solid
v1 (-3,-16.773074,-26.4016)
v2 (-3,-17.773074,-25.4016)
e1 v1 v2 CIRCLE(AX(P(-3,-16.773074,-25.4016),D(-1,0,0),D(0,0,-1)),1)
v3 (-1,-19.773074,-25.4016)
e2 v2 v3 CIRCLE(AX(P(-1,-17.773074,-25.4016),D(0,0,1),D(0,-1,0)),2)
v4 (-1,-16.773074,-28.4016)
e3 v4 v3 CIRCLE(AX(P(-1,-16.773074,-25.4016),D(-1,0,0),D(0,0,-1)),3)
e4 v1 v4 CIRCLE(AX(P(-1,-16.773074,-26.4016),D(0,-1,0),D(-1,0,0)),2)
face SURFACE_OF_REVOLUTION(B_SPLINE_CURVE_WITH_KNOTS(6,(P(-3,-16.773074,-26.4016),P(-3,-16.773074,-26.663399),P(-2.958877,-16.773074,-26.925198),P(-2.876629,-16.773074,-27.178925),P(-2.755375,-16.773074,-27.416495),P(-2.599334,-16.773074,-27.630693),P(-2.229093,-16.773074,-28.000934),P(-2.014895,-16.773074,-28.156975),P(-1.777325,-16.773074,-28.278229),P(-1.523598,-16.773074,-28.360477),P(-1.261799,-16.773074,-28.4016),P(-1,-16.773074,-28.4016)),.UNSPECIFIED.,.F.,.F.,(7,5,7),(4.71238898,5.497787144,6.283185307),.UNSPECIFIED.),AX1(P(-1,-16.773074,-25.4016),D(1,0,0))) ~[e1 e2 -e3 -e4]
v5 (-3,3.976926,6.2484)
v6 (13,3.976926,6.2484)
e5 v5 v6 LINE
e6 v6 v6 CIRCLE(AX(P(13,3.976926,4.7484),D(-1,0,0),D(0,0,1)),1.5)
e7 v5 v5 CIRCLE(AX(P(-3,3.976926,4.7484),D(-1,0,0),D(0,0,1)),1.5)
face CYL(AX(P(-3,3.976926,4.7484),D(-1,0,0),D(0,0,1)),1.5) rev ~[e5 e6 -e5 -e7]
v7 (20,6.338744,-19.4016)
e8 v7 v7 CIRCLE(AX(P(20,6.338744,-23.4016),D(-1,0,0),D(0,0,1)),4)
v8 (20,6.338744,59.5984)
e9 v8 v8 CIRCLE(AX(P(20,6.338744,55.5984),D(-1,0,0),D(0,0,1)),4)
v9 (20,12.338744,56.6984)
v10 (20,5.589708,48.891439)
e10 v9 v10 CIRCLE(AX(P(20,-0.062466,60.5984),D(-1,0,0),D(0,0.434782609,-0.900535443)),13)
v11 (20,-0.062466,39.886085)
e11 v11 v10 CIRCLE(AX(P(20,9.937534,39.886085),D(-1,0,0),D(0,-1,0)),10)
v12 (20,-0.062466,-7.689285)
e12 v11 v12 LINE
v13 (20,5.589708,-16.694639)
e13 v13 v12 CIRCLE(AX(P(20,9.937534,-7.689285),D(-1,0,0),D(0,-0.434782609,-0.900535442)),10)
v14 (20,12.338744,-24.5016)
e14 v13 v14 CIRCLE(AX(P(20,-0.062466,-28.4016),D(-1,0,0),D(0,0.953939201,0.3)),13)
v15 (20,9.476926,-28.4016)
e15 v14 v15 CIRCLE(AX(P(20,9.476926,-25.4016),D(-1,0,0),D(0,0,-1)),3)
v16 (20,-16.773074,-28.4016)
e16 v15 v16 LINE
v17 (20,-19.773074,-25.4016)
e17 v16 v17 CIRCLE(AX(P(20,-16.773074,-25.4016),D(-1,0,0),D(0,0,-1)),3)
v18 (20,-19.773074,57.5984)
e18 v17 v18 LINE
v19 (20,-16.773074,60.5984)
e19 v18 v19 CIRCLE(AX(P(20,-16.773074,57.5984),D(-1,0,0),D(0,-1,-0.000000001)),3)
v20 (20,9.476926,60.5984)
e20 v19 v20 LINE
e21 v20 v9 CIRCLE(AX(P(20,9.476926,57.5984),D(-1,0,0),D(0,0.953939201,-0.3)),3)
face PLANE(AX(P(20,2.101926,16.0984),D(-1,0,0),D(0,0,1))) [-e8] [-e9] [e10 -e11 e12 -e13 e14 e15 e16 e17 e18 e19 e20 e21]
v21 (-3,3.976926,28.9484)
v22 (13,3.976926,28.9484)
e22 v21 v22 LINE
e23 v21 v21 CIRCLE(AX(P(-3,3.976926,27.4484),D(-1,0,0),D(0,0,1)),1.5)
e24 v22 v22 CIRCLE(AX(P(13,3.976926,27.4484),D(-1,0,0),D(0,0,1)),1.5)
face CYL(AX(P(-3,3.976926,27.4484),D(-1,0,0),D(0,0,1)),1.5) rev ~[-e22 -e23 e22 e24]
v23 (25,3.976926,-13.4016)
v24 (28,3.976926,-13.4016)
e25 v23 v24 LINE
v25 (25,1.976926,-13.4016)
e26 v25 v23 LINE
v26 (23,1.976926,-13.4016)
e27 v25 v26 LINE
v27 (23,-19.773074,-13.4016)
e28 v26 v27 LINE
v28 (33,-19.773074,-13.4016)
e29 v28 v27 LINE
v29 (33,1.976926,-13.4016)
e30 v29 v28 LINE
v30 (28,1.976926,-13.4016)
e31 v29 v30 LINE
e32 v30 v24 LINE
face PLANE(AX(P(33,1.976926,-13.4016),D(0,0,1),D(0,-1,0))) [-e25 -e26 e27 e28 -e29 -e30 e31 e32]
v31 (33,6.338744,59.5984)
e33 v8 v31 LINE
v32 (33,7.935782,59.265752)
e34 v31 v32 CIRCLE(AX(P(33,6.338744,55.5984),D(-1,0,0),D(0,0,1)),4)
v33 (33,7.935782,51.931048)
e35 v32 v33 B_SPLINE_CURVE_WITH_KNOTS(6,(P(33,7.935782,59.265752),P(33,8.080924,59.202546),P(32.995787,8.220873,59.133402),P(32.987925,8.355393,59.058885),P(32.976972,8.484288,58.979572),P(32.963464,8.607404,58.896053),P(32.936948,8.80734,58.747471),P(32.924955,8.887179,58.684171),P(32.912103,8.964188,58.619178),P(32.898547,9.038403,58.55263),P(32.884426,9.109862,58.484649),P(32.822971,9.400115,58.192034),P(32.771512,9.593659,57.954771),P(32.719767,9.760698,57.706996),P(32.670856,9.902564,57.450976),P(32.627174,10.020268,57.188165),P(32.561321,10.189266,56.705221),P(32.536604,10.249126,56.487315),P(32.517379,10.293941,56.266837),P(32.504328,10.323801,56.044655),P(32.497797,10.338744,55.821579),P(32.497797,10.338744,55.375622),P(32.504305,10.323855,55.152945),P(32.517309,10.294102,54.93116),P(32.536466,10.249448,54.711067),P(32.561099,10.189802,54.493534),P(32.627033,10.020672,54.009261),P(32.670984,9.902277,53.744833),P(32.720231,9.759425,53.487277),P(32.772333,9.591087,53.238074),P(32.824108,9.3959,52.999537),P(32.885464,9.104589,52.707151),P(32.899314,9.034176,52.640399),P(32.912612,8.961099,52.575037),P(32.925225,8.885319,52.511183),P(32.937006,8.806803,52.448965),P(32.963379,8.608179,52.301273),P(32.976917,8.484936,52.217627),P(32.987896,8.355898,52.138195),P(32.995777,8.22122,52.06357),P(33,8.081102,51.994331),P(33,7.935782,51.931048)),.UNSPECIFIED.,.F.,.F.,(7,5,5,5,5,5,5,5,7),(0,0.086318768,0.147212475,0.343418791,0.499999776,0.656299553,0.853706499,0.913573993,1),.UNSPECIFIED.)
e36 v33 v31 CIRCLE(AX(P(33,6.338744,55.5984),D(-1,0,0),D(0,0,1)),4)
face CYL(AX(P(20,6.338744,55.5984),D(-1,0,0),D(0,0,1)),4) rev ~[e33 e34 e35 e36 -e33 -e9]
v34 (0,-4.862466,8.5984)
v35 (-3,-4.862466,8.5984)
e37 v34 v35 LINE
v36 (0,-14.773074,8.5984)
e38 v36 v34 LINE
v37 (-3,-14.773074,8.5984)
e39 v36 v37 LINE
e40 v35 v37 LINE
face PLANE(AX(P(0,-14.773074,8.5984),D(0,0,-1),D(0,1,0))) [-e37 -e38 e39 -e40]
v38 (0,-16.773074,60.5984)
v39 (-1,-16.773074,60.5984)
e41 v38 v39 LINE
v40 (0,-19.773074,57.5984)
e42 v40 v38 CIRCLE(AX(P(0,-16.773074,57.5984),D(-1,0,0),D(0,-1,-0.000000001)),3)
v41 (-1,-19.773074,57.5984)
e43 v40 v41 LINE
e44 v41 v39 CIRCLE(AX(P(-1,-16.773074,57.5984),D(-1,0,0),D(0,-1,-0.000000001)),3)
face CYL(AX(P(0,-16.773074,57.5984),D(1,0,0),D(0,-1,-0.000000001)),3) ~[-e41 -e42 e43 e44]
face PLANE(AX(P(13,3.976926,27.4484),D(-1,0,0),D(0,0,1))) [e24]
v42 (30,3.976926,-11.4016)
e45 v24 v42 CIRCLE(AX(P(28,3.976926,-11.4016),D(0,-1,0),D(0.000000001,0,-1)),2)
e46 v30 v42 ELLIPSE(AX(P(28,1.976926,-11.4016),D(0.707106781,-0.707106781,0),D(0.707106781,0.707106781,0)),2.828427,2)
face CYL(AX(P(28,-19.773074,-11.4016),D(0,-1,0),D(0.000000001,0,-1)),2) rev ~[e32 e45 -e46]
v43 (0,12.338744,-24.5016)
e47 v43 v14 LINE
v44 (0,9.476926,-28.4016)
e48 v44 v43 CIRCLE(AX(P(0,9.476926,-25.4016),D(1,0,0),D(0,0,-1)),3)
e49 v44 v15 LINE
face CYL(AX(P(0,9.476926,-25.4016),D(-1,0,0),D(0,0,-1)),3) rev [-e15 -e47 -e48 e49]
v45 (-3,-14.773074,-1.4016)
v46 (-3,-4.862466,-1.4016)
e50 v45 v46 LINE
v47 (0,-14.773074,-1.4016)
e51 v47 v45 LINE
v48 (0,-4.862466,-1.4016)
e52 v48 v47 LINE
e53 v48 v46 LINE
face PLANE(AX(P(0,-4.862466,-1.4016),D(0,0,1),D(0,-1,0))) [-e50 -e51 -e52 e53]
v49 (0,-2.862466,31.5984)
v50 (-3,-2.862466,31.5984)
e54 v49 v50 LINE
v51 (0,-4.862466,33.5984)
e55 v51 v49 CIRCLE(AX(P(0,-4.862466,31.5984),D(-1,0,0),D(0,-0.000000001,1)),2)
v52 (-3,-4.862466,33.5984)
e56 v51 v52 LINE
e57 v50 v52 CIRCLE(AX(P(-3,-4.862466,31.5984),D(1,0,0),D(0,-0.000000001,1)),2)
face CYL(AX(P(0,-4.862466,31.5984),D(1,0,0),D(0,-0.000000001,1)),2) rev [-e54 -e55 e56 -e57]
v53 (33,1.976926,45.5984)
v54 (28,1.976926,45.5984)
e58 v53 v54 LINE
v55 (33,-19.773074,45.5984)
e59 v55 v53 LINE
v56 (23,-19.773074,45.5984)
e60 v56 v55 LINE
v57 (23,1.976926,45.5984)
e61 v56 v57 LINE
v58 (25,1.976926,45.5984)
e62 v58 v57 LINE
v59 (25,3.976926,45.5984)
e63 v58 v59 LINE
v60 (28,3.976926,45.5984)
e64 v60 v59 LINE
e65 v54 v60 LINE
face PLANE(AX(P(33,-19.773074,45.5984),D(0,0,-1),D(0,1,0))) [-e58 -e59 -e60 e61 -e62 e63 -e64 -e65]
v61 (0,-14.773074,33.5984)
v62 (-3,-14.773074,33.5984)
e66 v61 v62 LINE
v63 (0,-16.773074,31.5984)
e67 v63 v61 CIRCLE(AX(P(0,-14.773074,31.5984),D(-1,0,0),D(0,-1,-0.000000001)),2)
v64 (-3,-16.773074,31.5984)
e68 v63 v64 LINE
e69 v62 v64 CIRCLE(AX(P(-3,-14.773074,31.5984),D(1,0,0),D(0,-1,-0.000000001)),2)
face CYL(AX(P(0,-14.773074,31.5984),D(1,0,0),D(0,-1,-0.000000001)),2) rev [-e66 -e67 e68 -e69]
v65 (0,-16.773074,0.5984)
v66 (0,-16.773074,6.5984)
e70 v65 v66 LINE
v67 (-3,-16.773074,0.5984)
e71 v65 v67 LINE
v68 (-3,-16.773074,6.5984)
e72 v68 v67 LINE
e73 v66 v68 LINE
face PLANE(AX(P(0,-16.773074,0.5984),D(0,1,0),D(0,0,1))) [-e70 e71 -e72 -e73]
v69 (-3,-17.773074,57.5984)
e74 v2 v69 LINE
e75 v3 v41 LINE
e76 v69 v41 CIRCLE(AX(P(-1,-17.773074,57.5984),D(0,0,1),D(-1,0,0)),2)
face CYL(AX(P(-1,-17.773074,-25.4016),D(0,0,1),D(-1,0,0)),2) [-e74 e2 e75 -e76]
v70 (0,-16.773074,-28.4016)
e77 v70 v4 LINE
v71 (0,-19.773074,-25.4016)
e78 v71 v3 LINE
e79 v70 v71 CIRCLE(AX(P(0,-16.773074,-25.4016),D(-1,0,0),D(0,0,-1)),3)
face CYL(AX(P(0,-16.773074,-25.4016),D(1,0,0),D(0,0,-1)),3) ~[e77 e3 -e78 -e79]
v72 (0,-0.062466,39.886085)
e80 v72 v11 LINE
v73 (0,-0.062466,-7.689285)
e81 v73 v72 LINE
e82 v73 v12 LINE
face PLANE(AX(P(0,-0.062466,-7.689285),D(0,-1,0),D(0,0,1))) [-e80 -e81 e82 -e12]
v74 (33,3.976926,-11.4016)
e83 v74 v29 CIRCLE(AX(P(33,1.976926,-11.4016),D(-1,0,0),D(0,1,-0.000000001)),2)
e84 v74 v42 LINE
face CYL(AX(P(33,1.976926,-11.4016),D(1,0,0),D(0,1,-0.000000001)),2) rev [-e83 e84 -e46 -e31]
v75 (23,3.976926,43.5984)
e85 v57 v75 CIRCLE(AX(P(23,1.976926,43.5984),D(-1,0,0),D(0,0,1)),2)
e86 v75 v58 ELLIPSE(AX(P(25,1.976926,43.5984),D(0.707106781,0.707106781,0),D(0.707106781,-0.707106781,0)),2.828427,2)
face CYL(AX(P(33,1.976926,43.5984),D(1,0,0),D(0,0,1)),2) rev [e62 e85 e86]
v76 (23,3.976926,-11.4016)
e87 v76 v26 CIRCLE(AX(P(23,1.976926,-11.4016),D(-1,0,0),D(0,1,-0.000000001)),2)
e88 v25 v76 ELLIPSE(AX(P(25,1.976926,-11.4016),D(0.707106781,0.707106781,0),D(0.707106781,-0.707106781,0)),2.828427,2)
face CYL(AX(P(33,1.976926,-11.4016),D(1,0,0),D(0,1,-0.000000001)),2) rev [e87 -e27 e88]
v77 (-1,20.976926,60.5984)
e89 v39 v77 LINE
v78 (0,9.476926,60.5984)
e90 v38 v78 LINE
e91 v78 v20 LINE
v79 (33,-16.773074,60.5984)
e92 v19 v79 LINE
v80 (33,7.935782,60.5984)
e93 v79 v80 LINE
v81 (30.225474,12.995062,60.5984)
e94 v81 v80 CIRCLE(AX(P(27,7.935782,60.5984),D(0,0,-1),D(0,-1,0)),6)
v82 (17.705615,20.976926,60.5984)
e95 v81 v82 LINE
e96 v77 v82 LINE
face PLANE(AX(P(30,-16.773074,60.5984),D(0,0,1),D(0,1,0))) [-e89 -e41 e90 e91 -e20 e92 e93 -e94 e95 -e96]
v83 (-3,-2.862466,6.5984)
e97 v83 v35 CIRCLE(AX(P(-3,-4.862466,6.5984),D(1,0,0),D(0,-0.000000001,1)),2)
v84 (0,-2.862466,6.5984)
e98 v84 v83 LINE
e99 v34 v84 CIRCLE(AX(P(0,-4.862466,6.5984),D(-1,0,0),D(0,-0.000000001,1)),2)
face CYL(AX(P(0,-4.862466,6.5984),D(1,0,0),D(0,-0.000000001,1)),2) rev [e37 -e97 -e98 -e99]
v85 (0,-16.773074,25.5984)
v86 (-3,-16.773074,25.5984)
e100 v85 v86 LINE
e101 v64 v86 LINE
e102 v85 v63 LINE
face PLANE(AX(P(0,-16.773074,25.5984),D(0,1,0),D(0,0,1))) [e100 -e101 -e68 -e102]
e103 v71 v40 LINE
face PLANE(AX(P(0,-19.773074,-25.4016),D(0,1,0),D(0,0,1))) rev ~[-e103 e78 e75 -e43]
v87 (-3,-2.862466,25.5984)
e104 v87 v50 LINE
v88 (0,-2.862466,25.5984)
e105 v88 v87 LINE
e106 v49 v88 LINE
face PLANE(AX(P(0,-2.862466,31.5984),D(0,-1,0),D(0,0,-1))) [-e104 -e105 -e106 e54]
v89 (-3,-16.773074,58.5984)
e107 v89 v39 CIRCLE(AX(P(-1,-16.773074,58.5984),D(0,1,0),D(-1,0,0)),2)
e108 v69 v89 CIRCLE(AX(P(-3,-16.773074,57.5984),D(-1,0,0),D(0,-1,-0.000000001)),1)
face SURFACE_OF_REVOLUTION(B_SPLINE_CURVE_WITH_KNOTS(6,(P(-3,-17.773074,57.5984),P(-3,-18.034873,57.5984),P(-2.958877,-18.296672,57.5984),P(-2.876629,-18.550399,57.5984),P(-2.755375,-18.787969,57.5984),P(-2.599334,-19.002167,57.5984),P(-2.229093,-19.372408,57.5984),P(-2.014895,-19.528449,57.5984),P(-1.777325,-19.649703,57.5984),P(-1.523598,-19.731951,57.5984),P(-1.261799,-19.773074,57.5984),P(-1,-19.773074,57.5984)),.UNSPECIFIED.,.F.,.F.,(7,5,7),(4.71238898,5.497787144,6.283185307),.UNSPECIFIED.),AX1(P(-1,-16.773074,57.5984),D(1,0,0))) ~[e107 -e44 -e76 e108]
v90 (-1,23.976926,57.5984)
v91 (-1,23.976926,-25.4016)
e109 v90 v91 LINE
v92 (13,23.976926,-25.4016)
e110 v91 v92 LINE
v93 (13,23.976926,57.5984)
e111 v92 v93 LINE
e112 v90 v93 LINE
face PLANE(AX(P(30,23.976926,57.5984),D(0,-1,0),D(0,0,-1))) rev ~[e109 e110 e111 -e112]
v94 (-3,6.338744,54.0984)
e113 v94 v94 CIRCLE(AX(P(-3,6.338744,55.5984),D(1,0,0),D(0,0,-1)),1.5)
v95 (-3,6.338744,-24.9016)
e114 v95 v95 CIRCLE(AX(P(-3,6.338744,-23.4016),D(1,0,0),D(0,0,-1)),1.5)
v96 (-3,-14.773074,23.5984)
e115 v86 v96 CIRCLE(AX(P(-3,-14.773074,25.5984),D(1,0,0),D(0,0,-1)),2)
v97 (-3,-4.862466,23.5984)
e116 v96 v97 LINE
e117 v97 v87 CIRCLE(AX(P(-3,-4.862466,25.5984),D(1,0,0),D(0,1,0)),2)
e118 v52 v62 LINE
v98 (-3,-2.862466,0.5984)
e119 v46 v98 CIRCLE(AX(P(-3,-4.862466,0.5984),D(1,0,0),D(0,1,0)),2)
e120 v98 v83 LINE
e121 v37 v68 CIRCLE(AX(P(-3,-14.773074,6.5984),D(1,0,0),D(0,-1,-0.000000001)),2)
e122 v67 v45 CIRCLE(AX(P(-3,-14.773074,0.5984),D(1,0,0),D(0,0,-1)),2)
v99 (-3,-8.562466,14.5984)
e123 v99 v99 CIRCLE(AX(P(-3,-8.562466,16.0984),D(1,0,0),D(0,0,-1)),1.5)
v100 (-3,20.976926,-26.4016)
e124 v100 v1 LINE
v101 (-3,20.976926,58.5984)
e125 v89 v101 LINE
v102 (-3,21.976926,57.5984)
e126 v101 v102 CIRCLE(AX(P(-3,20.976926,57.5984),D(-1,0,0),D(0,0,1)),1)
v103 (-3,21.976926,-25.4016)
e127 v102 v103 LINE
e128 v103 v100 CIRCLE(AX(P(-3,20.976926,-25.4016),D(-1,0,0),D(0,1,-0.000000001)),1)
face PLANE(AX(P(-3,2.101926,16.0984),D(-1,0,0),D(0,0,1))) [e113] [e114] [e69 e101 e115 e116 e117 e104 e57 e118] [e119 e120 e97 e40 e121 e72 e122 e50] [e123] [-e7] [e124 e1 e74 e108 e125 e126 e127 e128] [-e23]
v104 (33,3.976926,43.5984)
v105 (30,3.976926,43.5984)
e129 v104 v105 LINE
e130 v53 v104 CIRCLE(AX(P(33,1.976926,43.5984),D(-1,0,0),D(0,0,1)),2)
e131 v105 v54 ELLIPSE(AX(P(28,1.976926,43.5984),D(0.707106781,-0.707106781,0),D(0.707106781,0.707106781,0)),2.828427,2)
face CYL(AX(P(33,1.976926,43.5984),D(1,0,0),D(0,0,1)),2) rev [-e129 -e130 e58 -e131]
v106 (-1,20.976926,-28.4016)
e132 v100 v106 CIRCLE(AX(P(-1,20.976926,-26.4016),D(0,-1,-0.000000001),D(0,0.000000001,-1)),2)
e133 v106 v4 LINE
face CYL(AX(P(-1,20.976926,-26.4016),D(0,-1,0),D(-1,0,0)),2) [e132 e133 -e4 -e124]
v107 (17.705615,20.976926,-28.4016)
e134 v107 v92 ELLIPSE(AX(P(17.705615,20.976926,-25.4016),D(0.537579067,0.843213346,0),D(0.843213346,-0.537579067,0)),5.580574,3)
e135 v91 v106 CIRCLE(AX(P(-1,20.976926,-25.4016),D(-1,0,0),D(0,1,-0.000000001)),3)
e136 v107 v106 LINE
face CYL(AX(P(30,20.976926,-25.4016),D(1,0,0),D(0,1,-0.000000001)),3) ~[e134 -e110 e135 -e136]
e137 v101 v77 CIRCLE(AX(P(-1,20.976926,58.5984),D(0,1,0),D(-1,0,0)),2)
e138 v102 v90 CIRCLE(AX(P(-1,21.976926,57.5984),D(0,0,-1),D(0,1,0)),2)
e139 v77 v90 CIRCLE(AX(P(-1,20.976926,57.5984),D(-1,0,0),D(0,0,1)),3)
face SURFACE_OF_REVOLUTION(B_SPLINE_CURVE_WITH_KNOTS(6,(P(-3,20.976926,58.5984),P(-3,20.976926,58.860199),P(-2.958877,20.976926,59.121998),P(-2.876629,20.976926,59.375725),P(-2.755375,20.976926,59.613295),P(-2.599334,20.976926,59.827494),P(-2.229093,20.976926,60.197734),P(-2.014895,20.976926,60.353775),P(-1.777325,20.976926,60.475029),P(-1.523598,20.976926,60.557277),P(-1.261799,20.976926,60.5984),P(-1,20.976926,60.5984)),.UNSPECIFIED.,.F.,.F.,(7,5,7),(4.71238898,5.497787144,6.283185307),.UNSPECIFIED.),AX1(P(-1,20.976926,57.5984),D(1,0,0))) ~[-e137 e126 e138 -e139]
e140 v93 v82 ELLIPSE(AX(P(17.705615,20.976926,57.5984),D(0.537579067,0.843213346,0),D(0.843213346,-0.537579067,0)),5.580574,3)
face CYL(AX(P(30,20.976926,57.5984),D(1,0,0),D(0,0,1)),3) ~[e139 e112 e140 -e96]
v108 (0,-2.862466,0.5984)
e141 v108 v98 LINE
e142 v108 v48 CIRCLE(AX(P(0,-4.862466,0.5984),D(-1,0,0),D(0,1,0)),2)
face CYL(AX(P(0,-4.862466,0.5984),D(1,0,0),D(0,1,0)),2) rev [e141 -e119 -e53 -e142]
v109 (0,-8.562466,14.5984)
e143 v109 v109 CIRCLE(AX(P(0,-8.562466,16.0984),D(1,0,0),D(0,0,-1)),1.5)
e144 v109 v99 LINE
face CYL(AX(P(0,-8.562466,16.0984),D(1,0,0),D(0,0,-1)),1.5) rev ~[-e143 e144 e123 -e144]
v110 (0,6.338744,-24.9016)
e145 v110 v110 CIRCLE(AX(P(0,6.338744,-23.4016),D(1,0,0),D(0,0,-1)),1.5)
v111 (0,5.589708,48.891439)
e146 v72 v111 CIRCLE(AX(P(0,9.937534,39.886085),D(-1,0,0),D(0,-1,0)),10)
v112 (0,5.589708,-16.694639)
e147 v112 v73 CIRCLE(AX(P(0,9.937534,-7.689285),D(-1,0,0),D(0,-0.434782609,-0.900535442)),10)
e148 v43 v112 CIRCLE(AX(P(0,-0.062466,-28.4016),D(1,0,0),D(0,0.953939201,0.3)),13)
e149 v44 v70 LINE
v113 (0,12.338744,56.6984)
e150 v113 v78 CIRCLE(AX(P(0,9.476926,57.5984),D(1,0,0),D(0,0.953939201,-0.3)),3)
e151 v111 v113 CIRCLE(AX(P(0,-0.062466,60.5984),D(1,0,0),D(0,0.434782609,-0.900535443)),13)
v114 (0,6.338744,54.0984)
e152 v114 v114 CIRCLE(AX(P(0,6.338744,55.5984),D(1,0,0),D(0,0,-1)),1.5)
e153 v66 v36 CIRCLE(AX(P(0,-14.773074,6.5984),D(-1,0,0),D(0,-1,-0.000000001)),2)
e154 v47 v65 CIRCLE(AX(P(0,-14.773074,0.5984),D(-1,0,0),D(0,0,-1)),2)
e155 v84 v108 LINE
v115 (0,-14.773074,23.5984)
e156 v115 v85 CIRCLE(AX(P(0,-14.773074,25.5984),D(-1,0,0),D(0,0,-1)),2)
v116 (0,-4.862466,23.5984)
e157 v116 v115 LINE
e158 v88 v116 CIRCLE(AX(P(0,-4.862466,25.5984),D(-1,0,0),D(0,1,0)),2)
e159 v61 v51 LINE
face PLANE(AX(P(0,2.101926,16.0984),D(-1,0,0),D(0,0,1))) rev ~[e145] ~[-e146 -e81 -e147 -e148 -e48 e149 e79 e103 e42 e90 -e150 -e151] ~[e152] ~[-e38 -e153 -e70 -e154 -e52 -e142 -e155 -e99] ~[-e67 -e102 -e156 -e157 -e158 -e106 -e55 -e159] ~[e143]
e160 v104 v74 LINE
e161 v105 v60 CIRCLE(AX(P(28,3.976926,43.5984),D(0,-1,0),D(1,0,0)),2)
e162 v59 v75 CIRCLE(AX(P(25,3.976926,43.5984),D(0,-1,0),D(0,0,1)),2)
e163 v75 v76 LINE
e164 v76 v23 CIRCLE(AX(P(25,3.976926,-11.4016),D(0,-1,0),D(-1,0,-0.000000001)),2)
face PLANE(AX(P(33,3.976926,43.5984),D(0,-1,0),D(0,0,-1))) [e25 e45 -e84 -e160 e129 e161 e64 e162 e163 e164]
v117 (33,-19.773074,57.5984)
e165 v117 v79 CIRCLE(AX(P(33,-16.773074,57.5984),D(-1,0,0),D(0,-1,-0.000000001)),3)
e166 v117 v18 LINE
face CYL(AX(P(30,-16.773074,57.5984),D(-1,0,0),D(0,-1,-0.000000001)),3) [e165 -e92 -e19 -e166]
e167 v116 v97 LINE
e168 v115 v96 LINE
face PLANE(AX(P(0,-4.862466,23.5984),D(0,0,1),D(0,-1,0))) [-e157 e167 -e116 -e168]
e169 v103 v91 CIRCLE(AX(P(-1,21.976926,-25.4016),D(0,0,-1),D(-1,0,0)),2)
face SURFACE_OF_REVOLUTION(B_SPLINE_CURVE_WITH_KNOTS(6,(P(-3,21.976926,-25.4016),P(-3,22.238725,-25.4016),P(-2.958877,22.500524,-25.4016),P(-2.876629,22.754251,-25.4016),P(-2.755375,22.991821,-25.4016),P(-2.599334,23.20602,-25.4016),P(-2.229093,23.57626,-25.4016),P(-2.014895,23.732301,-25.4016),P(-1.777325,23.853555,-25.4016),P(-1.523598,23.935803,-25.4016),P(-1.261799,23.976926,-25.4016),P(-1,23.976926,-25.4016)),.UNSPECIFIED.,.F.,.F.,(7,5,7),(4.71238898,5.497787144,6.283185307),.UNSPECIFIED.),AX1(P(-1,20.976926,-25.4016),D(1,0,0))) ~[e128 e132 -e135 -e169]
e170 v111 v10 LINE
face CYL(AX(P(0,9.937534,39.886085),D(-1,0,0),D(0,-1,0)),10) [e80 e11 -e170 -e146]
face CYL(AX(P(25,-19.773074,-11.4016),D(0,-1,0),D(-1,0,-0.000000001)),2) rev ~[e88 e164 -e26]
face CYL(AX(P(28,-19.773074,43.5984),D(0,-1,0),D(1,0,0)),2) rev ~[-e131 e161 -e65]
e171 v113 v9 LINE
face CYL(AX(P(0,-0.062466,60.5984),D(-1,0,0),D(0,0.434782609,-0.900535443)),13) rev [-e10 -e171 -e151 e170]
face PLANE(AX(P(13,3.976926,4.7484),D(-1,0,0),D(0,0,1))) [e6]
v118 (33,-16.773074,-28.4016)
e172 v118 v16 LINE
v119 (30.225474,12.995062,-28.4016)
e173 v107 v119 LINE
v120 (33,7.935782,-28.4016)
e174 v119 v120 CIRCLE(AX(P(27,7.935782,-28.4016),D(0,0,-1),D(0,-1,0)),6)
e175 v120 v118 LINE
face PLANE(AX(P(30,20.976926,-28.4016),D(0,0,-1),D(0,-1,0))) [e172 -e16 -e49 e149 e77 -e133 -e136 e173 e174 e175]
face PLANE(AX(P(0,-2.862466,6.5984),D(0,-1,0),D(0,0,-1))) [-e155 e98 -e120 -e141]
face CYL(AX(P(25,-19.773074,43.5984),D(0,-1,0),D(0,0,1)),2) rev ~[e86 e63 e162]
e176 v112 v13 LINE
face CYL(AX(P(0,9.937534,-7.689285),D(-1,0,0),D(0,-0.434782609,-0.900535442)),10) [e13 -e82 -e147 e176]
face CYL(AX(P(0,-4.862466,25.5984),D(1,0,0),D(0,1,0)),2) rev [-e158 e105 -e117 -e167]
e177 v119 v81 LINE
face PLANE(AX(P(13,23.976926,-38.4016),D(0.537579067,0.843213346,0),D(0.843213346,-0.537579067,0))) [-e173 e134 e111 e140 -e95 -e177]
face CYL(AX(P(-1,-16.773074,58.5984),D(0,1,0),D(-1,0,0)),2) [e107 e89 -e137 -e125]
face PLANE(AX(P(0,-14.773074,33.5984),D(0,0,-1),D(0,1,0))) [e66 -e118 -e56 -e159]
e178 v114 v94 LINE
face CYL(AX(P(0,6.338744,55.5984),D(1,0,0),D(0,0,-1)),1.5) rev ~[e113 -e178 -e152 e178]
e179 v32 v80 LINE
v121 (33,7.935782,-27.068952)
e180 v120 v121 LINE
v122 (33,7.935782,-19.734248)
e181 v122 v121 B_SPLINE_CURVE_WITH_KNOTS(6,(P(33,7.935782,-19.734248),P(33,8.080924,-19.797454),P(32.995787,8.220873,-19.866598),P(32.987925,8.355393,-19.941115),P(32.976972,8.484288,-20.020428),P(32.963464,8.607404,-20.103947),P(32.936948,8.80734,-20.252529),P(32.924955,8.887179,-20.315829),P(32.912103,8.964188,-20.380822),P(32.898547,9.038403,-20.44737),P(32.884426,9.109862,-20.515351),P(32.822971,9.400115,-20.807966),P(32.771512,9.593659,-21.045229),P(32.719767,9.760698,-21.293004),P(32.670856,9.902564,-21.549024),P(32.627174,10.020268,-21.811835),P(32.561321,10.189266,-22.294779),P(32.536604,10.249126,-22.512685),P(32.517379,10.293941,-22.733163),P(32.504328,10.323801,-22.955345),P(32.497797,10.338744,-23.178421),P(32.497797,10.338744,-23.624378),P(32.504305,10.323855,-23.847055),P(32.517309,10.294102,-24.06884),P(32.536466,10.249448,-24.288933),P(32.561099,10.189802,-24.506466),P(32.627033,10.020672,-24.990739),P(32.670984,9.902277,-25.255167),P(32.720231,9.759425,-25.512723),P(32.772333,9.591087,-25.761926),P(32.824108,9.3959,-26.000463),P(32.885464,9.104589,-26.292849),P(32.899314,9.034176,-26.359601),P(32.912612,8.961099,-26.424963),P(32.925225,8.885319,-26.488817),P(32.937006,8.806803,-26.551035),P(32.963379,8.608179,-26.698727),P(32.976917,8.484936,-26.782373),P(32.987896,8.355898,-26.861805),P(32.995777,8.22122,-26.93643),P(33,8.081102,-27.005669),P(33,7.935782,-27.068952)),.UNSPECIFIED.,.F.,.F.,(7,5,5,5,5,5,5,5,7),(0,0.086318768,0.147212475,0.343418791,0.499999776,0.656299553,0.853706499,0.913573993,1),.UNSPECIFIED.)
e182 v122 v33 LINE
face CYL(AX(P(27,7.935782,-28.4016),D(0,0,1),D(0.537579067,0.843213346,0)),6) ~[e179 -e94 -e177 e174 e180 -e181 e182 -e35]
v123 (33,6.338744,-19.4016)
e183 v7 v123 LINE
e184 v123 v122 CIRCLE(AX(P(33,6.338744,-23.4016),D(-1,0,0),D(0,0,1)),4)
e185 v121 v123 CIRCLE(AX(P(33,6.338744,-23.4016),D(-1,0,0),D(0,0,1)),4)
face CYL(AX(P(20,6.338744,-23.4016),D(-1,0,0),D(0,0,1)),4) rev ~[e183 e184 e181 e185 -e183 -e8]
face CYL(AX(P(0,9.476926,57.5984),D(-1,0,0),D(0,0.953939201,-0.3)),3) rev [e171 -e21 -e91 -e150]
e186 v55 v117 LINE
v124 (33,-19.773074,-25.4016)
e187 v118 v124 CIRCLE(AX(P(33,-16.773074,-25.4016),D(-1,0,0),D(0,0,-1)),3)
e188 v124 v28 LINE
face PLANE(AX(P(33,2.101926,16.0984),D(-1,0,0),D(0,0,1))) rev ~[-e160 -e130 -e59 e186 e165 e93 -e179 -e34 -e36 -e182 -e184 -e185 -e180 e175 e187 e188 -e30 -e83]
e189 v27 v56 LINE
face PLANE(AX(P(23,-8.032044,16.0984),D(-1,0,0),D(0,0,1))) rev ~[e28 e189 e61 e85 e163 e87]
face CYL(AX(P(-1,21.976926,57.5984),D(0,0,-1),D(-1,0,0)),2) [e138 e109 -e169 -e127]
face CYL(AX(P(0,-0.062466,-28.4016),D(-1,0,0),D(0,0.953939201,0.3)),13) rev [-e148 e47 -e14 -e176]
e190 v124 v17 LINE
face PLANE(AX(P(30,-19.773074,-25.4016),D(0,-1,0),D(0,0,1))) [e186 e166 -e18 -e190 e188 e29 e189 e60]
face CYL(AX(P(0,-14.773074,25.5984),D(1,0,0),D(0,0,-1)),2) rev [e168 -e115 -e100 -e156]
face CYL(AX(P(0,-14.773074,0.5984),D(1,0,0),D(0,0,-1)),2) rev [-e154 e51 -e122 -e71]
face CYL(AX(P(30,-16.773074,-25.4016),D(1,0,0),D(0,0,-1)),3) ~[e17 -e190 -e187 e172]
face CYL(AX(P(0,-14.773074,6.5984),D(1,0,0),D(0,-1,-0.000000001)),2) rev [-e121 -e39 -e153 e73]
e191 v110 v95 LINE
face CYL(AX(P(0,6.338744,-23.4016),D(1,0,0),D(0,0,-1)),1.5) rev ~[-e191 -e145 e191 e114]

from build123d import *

# Parameters (mm, degrees)
RESSALTO_EXTRUS_O2_DEPTH      = 30
RESSALTO_EXTRUS_O3_DEPTH      = 3
RESSALTO_EXTRUS_O4_DEPTH      = 3
RESSALTO_EXTRUS_O4_DEPTH_BACK = 10
CORTE_EXTRUS_O1_DEPTH         = 10
CORTE_EXTRUS_O2_DEPTH         = 23.75
ESBO_O10_R                    = 1.5
CORTE_EXTRUS_O3_DEPTH         = 10
CORTE_EXTRUS_O4_DEPTH         = 10
FILETE2_R                     = 2
ESBO_O13_R                    = 1.5
CORTE_EXTRUS_O5_DEPTH         = 16
CORTE_EXTRUS_O11_DEPTH        = 117
FILETE7_R                     = 6
ESBO_O18_R                    = 4
CORTE_EXTRUS_O13_DEPTH        = 22
ESBO_O19_R                    = 4
CORTE_EXTRUS_O14_DEPTH        = 22


with BuildPart() as part:
    # Esboço2 → Ressalto-extrusão2 (new body)
    with BuildSketch(Plane(origin=(0, 0, 0), x_dir=(0, 0, -1), z_dir=(1, 0, 0))):
        with BuildLine():
            Line((2.90159992, -0.062465938), (-35.09840008, -0.062465938))
            Line((-35.09840008, -0.062465938), (-39.886084903, -0.062465938))
            ThreePointArc((-39.886084903, -0.062465938), (-45.202180234, 1.467638524), (-48.891439328, 5.589707975))
            ThreePointArc((-48.891439328, 5.589707975), (-52.096536948, 9.772081499), (-56.69840008, 12.338743681))
            ThreePointArc((-56.69840008, 12.338743681), (-59.373224015, 11.895603401), (-60.59840008, 9.476926077))
            Line((-60.59840008, 9.476926077), (-60.59840008, 20.976926077))
            ThreePointArc((-60.59840008, 20.976926077), (-59.719720424, 23.09824642), (-57.59840008, 23.976926077))
            Line((-57.59840008, 23.976926077), (25.40159992, 23.976926077))
            ThreePointArc((25.40159992, 23.976926077), (27.522920263, 23.09824642), (28.40159992, 20.976926077))
            Line((28.40159992, 20.976926077), (28.40159992, 9.476926077))
            ThreePointArc((28.40159992, 9.476926077), (27.176423855, 11.895603401), (24.50159992, 12.338743681))
            ThreePointArc((24.50159992, 12.338743681), (19.899736788, 9.772081499), (16.694639168, 5.589707975))
            ThreePointArc((16.694639168, 5.589707975), (13.005380073, 1.467638524), (7.689284743, -0.062465938))
            Line((7.689284743, -0.062465938), (2.90159992, -0.062465938))
        make_face()
    extrude(amount=RESSALTO_EXTRUS_O2_DEPTH)

    # Esboço3 → Ressalto-extrusão3 (add)
    with BuildSketch(Plane.ZY):
        with BuildLine():
            Line((60.59840008, 15.226926077), (60.59840008, 20.976926077))
            ThreePointArc((60.59840008, 20.976926077), (59.719720424, 23.09824642), (57.59840008, 23.976926077))
            Line((57.59840008, 23.976926077), (16.09840008, 23.976926077))
            Line((16.09840008, 23.976926077), (-25.40159992, 23.976926077))
            ThreePointArc((-25.40159992, 23.976926077), (-27.522920263, 23.09824642), (-28.40159992, 20.976926077))
            Line((-28.40159992, 20.976926077), (-28.40159992, 15.226926077))
            Line((-28.40159992, 15.226926077), (-28.40159992, -16.773073923))
            ThreePointArc((-28.40159992, -16.773073923), (-27.522920263, -18.894394267), (-25.40159992, -19.773073923))
            Line((-25.40159992, -19.773073923), (57.59840008, -19.773073923))
            ThreePointArc((57.59840008, -19.773073923), (59.719720424, -18.894394267), (60.59840008, -16.773073923))
            Line((60.59840008, -16.773073923), (60.59840008, 15.226926077))
        make_face()
    extrude(amount=RESSALTO_EXTRUS_O3_DEPTH)

    # Esboço4 → Ressalto-extrusão4 (add, two sides)
    with BuildSketch(Plane(origin=(30, 0, 0), x_dir=(0, 0, -1), z_dir=(1, 0, 0))) as ressalto_extrus_o4_sk:
        with BuildLine():
            Line((-16.09840008, 23.976926077), (25.40159992, 23.976926077))
            ThreePointArc((25.40159992, 23.976926077), (27.522920263, 23.09824642), (28.40159992, 20.976926077))
            Line((28.40159992, 20.976926077), (28.40159992, 15.226926077))
            Line((28.40159992, 15.226926077), (28.40159992, -16.773073923))
            ThreePointArc((28.40159992, -16.773073923), (27.522920263, -18.894394267), (25.40159992, -19.773073923))
            Line((25.40159992, -19.773073923), (-57.59840008, -19.773073923))
            ThreePointArc((-57.59840008, -19.773073923), (-59.719720424, -18.894394267), (-60.59840008, -16.773073923))
            Line((-60.59840008, -16.773073923), (-60.59840008, 15.226926077))
            Line((-60.59840008, 15.226926077), (-60.59840008, 20.976926077))
            ThreePointArc((-60.59840008, 20.976926077), (-59.719720424, 23.09824642), (-57.59840008, 23.976926077))
            Line((-57.59840008, 23.976926077), (-16.09840008, 23.976926077))
        make_face()
    extrude(amount=RESSALTO_EXTRUS_O4_DEPTH)
    extrude(ressalto_extrus_o4_sk.sketch, amount=-RESSALTO_EXTRUS_O4_DEPTH_BACK)

    # Esboço8 → Corte-extrusão1 (cut)
    with BuildSketch(Plane(origin=(33, 0, 0), x_dir=(0, 0, -1), z_dir=(1, 0, 0))):
        with BuildLine():
            Line((-43.59840008, 3.976926077), (11.40159992, 3.976926077))
            ThreePointArc((11.40159992, 3.976926077), (12.815813482, 3.391139639), (13.40159992, 1.976926077))
            Line((13.40159992, 1.976926077), (13.40159992, -7.773073923))
            Line((13.40159992, -7.773073923), (13.40159992, -19.773073923))
            Line((13.40159992, -19.773073923), (-45.59840008, -19.773073923))
            Line((-45.59840008, -19.773073923), (-45.59840008, -7.773073923))
            Line((-45.59840008, -7.773073923), (-45.59840008, 1.976926077))
            ThreePointArc((-45.59840008, 1.976926077), (-45.012613643, 3.391139639), (-43.59840008, 3.976926077))
        make_face()
    extrude(amount=-CORTE_EXTRUS_O1_DEPTH, mode=Mode.SUBTRACT)

    # Esboço9 → Corte-extrusão2 (cut)
    with BuildSketch(Plane(origin=(0, -19.773073923, 0), x_dir=(-1, 0, 0), z_dir=(0, -1, 0))):
        with BuildLine():
            Line((-25, 13.40159992), (-28, 13.40159992))
            ThreePointArc((-28, 13.40159992), (-29.414213562, 12.815813482), (-30, 11.40159992))
            Line((-30, 11.40159992), (-30, -43.59840008))
            ThreePointArc((-30, -43.59840008), (-29.414213562, -45.012613643), (-28, -45.59840008))
            Line((-28, -45.59840008), (-25, -45.59840008))
            ThreePointArc((-25, -45.59840008), (-23.585786438, -45.012613643), (-23, -43.59840008))
            Line((-23, -43.59840008), (-23, 11.40159992))
            ThreePointArc((-23, 11.40159992), (-23.585786438, 12.815813482), (-25, 13.40159992))
        make_face()
    extrude(amount=-CORTE_EXTRUS_O2_DEPTH, mode=Mode.SUBTRACT)

    # Esboço10 → Corte-extrusão3 (cut)
    with BuildSketch(Plane(origin=(0, 0, 0), x_dir=(0, 0, -1), z_dir=(1, 0, 0))):
        with Locations((-55.59840008, 6.338743681)):
            Circle(ESBO_O10_R)
        with Locations((23.40159992, 6.338743681)):
            Circle(ESBO_O10_R)
        with Locations((-16.09840008, -8.562465938)):
            Circle(ESBO_O10_R)
    extrude(amount=-CORTE_EXTRUS_O3_DEPTH, mode=Mode.SUBTRACT)

    # Esboço12 → Corte-extrusão4 (cut)
    with BuildSketch(Plane(origin=(0, 0, 0), x_dir=(0, 0, -1), z_dir=(1, 0, 0))):
        with BuildLine():
            Line((-31.59840008, -2.862465938), (-25.59840008, -2.862465938))
            ThreePointArc((-25.59840008, -2.862465938), (-24.184186518, -3.448252375), (-23.59840008, -4.862465938))
            Line((-23.59840008, -4.862465938), (-23.59840008, -14.773073923))
            ThreePointArc((-23.59840008, -14.773073923), (-24.184186518, -16.187287486), (-25.59840008, -16.773073923))
            Line((-25.59840008, -16.773073923), (-31.59840008, -16.773073923))
            ThreePointArc((-31.59840008, -16.773073923), (-33.012613643, -16.187287486), (-33.59840008, -14.773073923))
            Line((-33.59840008, -14.773073923), (-33.59840008, -4.862465938))
            ThreePointArc((-33.59840008, -4.862465938), (-33.012613643, -3.448252375), (-31.59840008, -2.862465938))
        make_face()
        with BuildLine():
            Line((-6.59840008, -2.862465938), (-0.59840008, -2.862465938))
            ThreePointArc((-0.59840008, -2.862465938), (0.815813482, -3.448252375), (1.40159992, -4.862465938))
            Line((1.40159992, -4.862465938), (1.40159992, -14.773073923))
            ThreePointArc((1.40159992, -14.773073923), (0.815813482, -16.187287486), (-0.59840008, -16.773073923))
            Line((-0.59840008, -16.773073923), (-6.59840008, -16.773073923))
            ThreePointArc((-6.59840008, -16.773073923), (-8.012613643, -16.187287486), (-8.59840008, -14.773073923))
            Line((-8.59840008, -14.773073923), (-8.59840008, -4.862465938))
            ThreePointArc((-8.59840008, -4.862465938), (-8.012613643, -3.448252375), (-6.59840008, -2.862465938))
        make_face()
    extrude(amount=-CORTE_EXTRUS_O4_DEPTH, mode=Mode.SUBTRACT)

    # Filete2
    filete2_edges = [part.edges().sort_by_distance(p)[0] for p in [
        (-3, 2.101926077, 60.59840008),
        (-3, 23.09824642, 59.719720424),
        (-3, 23.976926077, 16.09840008),
        (-3, 23.09824642, -27.522920263),
        (-3, 2.101926077, -28.40159992),
        (-3, -18.894394267, -27.522920263),
        (-3, -19.773073923, 16.09840008),
        (-3, -18.894394267, 59.719720424),
    ]]
    fillet(filete2_edges, radius=FILETE2_R)

    # Esboço13 → Corte-extrusão5 (cut)
    with BuildSketch(Plane.ZY.offset(3)):
        with Locations((27.44840008, 3.976926077)):
            Circle(ESBO_O13_R)
        with Locations((4.74840008, 3.976926077)):
            Circle(ESBO_O13_R)
    extrude(amount=-CORTE_EXTRUS_O5_DEPTH, mode=Mode.SUBTRACT)

    # Esboço16 → Corte-extrusão11 (cut)
    with BuildSketch(Plane(origin=(0, 0, -38.40159992), x_dir=(-1, 0, 0), z_dir=(0, 0, -1))):
        Polygon((-13, 23.976926077), (-33, 11.226201247), (-33, 23.976926077), align=None)
    extrude(amount=-CORTE_EXTRUS_O11_DEPTH, mode=Mode.SUBTRACT)

    # Filete7
    filete7_edges = [part.edges().sort_by_distance(p)[0] for p in [
        (33, 11.226201247, 16.09840008),
    ]]
    fillet(filete7_edges, radius=FILETE7_R)

    # Esboço18 → Corte-extrusão13 (cut)
    with BuildSketch(Plane.ZY.offset(-20)):
        with Locations((-23.40159992, 6.338743681)):
            Circle(ESBO_O18_R)
    extrude(amount=-CORTE_EXTRUS_O13_DEPTH, mode=Mode.SUBTRACT)

    # Esboço19 → Corte-extrusão14 (cut)
    with BuildSketch(Plane.ZY.offset(-20)):
        with Locations((55.59840008, 6.338743681)):
            Circle(ESBO_O19_R)
    extrude(amount=-CORTE_EXTRUS_O14_DEPTH, mode=Mode.SUBTRACT)


solid = part.part
